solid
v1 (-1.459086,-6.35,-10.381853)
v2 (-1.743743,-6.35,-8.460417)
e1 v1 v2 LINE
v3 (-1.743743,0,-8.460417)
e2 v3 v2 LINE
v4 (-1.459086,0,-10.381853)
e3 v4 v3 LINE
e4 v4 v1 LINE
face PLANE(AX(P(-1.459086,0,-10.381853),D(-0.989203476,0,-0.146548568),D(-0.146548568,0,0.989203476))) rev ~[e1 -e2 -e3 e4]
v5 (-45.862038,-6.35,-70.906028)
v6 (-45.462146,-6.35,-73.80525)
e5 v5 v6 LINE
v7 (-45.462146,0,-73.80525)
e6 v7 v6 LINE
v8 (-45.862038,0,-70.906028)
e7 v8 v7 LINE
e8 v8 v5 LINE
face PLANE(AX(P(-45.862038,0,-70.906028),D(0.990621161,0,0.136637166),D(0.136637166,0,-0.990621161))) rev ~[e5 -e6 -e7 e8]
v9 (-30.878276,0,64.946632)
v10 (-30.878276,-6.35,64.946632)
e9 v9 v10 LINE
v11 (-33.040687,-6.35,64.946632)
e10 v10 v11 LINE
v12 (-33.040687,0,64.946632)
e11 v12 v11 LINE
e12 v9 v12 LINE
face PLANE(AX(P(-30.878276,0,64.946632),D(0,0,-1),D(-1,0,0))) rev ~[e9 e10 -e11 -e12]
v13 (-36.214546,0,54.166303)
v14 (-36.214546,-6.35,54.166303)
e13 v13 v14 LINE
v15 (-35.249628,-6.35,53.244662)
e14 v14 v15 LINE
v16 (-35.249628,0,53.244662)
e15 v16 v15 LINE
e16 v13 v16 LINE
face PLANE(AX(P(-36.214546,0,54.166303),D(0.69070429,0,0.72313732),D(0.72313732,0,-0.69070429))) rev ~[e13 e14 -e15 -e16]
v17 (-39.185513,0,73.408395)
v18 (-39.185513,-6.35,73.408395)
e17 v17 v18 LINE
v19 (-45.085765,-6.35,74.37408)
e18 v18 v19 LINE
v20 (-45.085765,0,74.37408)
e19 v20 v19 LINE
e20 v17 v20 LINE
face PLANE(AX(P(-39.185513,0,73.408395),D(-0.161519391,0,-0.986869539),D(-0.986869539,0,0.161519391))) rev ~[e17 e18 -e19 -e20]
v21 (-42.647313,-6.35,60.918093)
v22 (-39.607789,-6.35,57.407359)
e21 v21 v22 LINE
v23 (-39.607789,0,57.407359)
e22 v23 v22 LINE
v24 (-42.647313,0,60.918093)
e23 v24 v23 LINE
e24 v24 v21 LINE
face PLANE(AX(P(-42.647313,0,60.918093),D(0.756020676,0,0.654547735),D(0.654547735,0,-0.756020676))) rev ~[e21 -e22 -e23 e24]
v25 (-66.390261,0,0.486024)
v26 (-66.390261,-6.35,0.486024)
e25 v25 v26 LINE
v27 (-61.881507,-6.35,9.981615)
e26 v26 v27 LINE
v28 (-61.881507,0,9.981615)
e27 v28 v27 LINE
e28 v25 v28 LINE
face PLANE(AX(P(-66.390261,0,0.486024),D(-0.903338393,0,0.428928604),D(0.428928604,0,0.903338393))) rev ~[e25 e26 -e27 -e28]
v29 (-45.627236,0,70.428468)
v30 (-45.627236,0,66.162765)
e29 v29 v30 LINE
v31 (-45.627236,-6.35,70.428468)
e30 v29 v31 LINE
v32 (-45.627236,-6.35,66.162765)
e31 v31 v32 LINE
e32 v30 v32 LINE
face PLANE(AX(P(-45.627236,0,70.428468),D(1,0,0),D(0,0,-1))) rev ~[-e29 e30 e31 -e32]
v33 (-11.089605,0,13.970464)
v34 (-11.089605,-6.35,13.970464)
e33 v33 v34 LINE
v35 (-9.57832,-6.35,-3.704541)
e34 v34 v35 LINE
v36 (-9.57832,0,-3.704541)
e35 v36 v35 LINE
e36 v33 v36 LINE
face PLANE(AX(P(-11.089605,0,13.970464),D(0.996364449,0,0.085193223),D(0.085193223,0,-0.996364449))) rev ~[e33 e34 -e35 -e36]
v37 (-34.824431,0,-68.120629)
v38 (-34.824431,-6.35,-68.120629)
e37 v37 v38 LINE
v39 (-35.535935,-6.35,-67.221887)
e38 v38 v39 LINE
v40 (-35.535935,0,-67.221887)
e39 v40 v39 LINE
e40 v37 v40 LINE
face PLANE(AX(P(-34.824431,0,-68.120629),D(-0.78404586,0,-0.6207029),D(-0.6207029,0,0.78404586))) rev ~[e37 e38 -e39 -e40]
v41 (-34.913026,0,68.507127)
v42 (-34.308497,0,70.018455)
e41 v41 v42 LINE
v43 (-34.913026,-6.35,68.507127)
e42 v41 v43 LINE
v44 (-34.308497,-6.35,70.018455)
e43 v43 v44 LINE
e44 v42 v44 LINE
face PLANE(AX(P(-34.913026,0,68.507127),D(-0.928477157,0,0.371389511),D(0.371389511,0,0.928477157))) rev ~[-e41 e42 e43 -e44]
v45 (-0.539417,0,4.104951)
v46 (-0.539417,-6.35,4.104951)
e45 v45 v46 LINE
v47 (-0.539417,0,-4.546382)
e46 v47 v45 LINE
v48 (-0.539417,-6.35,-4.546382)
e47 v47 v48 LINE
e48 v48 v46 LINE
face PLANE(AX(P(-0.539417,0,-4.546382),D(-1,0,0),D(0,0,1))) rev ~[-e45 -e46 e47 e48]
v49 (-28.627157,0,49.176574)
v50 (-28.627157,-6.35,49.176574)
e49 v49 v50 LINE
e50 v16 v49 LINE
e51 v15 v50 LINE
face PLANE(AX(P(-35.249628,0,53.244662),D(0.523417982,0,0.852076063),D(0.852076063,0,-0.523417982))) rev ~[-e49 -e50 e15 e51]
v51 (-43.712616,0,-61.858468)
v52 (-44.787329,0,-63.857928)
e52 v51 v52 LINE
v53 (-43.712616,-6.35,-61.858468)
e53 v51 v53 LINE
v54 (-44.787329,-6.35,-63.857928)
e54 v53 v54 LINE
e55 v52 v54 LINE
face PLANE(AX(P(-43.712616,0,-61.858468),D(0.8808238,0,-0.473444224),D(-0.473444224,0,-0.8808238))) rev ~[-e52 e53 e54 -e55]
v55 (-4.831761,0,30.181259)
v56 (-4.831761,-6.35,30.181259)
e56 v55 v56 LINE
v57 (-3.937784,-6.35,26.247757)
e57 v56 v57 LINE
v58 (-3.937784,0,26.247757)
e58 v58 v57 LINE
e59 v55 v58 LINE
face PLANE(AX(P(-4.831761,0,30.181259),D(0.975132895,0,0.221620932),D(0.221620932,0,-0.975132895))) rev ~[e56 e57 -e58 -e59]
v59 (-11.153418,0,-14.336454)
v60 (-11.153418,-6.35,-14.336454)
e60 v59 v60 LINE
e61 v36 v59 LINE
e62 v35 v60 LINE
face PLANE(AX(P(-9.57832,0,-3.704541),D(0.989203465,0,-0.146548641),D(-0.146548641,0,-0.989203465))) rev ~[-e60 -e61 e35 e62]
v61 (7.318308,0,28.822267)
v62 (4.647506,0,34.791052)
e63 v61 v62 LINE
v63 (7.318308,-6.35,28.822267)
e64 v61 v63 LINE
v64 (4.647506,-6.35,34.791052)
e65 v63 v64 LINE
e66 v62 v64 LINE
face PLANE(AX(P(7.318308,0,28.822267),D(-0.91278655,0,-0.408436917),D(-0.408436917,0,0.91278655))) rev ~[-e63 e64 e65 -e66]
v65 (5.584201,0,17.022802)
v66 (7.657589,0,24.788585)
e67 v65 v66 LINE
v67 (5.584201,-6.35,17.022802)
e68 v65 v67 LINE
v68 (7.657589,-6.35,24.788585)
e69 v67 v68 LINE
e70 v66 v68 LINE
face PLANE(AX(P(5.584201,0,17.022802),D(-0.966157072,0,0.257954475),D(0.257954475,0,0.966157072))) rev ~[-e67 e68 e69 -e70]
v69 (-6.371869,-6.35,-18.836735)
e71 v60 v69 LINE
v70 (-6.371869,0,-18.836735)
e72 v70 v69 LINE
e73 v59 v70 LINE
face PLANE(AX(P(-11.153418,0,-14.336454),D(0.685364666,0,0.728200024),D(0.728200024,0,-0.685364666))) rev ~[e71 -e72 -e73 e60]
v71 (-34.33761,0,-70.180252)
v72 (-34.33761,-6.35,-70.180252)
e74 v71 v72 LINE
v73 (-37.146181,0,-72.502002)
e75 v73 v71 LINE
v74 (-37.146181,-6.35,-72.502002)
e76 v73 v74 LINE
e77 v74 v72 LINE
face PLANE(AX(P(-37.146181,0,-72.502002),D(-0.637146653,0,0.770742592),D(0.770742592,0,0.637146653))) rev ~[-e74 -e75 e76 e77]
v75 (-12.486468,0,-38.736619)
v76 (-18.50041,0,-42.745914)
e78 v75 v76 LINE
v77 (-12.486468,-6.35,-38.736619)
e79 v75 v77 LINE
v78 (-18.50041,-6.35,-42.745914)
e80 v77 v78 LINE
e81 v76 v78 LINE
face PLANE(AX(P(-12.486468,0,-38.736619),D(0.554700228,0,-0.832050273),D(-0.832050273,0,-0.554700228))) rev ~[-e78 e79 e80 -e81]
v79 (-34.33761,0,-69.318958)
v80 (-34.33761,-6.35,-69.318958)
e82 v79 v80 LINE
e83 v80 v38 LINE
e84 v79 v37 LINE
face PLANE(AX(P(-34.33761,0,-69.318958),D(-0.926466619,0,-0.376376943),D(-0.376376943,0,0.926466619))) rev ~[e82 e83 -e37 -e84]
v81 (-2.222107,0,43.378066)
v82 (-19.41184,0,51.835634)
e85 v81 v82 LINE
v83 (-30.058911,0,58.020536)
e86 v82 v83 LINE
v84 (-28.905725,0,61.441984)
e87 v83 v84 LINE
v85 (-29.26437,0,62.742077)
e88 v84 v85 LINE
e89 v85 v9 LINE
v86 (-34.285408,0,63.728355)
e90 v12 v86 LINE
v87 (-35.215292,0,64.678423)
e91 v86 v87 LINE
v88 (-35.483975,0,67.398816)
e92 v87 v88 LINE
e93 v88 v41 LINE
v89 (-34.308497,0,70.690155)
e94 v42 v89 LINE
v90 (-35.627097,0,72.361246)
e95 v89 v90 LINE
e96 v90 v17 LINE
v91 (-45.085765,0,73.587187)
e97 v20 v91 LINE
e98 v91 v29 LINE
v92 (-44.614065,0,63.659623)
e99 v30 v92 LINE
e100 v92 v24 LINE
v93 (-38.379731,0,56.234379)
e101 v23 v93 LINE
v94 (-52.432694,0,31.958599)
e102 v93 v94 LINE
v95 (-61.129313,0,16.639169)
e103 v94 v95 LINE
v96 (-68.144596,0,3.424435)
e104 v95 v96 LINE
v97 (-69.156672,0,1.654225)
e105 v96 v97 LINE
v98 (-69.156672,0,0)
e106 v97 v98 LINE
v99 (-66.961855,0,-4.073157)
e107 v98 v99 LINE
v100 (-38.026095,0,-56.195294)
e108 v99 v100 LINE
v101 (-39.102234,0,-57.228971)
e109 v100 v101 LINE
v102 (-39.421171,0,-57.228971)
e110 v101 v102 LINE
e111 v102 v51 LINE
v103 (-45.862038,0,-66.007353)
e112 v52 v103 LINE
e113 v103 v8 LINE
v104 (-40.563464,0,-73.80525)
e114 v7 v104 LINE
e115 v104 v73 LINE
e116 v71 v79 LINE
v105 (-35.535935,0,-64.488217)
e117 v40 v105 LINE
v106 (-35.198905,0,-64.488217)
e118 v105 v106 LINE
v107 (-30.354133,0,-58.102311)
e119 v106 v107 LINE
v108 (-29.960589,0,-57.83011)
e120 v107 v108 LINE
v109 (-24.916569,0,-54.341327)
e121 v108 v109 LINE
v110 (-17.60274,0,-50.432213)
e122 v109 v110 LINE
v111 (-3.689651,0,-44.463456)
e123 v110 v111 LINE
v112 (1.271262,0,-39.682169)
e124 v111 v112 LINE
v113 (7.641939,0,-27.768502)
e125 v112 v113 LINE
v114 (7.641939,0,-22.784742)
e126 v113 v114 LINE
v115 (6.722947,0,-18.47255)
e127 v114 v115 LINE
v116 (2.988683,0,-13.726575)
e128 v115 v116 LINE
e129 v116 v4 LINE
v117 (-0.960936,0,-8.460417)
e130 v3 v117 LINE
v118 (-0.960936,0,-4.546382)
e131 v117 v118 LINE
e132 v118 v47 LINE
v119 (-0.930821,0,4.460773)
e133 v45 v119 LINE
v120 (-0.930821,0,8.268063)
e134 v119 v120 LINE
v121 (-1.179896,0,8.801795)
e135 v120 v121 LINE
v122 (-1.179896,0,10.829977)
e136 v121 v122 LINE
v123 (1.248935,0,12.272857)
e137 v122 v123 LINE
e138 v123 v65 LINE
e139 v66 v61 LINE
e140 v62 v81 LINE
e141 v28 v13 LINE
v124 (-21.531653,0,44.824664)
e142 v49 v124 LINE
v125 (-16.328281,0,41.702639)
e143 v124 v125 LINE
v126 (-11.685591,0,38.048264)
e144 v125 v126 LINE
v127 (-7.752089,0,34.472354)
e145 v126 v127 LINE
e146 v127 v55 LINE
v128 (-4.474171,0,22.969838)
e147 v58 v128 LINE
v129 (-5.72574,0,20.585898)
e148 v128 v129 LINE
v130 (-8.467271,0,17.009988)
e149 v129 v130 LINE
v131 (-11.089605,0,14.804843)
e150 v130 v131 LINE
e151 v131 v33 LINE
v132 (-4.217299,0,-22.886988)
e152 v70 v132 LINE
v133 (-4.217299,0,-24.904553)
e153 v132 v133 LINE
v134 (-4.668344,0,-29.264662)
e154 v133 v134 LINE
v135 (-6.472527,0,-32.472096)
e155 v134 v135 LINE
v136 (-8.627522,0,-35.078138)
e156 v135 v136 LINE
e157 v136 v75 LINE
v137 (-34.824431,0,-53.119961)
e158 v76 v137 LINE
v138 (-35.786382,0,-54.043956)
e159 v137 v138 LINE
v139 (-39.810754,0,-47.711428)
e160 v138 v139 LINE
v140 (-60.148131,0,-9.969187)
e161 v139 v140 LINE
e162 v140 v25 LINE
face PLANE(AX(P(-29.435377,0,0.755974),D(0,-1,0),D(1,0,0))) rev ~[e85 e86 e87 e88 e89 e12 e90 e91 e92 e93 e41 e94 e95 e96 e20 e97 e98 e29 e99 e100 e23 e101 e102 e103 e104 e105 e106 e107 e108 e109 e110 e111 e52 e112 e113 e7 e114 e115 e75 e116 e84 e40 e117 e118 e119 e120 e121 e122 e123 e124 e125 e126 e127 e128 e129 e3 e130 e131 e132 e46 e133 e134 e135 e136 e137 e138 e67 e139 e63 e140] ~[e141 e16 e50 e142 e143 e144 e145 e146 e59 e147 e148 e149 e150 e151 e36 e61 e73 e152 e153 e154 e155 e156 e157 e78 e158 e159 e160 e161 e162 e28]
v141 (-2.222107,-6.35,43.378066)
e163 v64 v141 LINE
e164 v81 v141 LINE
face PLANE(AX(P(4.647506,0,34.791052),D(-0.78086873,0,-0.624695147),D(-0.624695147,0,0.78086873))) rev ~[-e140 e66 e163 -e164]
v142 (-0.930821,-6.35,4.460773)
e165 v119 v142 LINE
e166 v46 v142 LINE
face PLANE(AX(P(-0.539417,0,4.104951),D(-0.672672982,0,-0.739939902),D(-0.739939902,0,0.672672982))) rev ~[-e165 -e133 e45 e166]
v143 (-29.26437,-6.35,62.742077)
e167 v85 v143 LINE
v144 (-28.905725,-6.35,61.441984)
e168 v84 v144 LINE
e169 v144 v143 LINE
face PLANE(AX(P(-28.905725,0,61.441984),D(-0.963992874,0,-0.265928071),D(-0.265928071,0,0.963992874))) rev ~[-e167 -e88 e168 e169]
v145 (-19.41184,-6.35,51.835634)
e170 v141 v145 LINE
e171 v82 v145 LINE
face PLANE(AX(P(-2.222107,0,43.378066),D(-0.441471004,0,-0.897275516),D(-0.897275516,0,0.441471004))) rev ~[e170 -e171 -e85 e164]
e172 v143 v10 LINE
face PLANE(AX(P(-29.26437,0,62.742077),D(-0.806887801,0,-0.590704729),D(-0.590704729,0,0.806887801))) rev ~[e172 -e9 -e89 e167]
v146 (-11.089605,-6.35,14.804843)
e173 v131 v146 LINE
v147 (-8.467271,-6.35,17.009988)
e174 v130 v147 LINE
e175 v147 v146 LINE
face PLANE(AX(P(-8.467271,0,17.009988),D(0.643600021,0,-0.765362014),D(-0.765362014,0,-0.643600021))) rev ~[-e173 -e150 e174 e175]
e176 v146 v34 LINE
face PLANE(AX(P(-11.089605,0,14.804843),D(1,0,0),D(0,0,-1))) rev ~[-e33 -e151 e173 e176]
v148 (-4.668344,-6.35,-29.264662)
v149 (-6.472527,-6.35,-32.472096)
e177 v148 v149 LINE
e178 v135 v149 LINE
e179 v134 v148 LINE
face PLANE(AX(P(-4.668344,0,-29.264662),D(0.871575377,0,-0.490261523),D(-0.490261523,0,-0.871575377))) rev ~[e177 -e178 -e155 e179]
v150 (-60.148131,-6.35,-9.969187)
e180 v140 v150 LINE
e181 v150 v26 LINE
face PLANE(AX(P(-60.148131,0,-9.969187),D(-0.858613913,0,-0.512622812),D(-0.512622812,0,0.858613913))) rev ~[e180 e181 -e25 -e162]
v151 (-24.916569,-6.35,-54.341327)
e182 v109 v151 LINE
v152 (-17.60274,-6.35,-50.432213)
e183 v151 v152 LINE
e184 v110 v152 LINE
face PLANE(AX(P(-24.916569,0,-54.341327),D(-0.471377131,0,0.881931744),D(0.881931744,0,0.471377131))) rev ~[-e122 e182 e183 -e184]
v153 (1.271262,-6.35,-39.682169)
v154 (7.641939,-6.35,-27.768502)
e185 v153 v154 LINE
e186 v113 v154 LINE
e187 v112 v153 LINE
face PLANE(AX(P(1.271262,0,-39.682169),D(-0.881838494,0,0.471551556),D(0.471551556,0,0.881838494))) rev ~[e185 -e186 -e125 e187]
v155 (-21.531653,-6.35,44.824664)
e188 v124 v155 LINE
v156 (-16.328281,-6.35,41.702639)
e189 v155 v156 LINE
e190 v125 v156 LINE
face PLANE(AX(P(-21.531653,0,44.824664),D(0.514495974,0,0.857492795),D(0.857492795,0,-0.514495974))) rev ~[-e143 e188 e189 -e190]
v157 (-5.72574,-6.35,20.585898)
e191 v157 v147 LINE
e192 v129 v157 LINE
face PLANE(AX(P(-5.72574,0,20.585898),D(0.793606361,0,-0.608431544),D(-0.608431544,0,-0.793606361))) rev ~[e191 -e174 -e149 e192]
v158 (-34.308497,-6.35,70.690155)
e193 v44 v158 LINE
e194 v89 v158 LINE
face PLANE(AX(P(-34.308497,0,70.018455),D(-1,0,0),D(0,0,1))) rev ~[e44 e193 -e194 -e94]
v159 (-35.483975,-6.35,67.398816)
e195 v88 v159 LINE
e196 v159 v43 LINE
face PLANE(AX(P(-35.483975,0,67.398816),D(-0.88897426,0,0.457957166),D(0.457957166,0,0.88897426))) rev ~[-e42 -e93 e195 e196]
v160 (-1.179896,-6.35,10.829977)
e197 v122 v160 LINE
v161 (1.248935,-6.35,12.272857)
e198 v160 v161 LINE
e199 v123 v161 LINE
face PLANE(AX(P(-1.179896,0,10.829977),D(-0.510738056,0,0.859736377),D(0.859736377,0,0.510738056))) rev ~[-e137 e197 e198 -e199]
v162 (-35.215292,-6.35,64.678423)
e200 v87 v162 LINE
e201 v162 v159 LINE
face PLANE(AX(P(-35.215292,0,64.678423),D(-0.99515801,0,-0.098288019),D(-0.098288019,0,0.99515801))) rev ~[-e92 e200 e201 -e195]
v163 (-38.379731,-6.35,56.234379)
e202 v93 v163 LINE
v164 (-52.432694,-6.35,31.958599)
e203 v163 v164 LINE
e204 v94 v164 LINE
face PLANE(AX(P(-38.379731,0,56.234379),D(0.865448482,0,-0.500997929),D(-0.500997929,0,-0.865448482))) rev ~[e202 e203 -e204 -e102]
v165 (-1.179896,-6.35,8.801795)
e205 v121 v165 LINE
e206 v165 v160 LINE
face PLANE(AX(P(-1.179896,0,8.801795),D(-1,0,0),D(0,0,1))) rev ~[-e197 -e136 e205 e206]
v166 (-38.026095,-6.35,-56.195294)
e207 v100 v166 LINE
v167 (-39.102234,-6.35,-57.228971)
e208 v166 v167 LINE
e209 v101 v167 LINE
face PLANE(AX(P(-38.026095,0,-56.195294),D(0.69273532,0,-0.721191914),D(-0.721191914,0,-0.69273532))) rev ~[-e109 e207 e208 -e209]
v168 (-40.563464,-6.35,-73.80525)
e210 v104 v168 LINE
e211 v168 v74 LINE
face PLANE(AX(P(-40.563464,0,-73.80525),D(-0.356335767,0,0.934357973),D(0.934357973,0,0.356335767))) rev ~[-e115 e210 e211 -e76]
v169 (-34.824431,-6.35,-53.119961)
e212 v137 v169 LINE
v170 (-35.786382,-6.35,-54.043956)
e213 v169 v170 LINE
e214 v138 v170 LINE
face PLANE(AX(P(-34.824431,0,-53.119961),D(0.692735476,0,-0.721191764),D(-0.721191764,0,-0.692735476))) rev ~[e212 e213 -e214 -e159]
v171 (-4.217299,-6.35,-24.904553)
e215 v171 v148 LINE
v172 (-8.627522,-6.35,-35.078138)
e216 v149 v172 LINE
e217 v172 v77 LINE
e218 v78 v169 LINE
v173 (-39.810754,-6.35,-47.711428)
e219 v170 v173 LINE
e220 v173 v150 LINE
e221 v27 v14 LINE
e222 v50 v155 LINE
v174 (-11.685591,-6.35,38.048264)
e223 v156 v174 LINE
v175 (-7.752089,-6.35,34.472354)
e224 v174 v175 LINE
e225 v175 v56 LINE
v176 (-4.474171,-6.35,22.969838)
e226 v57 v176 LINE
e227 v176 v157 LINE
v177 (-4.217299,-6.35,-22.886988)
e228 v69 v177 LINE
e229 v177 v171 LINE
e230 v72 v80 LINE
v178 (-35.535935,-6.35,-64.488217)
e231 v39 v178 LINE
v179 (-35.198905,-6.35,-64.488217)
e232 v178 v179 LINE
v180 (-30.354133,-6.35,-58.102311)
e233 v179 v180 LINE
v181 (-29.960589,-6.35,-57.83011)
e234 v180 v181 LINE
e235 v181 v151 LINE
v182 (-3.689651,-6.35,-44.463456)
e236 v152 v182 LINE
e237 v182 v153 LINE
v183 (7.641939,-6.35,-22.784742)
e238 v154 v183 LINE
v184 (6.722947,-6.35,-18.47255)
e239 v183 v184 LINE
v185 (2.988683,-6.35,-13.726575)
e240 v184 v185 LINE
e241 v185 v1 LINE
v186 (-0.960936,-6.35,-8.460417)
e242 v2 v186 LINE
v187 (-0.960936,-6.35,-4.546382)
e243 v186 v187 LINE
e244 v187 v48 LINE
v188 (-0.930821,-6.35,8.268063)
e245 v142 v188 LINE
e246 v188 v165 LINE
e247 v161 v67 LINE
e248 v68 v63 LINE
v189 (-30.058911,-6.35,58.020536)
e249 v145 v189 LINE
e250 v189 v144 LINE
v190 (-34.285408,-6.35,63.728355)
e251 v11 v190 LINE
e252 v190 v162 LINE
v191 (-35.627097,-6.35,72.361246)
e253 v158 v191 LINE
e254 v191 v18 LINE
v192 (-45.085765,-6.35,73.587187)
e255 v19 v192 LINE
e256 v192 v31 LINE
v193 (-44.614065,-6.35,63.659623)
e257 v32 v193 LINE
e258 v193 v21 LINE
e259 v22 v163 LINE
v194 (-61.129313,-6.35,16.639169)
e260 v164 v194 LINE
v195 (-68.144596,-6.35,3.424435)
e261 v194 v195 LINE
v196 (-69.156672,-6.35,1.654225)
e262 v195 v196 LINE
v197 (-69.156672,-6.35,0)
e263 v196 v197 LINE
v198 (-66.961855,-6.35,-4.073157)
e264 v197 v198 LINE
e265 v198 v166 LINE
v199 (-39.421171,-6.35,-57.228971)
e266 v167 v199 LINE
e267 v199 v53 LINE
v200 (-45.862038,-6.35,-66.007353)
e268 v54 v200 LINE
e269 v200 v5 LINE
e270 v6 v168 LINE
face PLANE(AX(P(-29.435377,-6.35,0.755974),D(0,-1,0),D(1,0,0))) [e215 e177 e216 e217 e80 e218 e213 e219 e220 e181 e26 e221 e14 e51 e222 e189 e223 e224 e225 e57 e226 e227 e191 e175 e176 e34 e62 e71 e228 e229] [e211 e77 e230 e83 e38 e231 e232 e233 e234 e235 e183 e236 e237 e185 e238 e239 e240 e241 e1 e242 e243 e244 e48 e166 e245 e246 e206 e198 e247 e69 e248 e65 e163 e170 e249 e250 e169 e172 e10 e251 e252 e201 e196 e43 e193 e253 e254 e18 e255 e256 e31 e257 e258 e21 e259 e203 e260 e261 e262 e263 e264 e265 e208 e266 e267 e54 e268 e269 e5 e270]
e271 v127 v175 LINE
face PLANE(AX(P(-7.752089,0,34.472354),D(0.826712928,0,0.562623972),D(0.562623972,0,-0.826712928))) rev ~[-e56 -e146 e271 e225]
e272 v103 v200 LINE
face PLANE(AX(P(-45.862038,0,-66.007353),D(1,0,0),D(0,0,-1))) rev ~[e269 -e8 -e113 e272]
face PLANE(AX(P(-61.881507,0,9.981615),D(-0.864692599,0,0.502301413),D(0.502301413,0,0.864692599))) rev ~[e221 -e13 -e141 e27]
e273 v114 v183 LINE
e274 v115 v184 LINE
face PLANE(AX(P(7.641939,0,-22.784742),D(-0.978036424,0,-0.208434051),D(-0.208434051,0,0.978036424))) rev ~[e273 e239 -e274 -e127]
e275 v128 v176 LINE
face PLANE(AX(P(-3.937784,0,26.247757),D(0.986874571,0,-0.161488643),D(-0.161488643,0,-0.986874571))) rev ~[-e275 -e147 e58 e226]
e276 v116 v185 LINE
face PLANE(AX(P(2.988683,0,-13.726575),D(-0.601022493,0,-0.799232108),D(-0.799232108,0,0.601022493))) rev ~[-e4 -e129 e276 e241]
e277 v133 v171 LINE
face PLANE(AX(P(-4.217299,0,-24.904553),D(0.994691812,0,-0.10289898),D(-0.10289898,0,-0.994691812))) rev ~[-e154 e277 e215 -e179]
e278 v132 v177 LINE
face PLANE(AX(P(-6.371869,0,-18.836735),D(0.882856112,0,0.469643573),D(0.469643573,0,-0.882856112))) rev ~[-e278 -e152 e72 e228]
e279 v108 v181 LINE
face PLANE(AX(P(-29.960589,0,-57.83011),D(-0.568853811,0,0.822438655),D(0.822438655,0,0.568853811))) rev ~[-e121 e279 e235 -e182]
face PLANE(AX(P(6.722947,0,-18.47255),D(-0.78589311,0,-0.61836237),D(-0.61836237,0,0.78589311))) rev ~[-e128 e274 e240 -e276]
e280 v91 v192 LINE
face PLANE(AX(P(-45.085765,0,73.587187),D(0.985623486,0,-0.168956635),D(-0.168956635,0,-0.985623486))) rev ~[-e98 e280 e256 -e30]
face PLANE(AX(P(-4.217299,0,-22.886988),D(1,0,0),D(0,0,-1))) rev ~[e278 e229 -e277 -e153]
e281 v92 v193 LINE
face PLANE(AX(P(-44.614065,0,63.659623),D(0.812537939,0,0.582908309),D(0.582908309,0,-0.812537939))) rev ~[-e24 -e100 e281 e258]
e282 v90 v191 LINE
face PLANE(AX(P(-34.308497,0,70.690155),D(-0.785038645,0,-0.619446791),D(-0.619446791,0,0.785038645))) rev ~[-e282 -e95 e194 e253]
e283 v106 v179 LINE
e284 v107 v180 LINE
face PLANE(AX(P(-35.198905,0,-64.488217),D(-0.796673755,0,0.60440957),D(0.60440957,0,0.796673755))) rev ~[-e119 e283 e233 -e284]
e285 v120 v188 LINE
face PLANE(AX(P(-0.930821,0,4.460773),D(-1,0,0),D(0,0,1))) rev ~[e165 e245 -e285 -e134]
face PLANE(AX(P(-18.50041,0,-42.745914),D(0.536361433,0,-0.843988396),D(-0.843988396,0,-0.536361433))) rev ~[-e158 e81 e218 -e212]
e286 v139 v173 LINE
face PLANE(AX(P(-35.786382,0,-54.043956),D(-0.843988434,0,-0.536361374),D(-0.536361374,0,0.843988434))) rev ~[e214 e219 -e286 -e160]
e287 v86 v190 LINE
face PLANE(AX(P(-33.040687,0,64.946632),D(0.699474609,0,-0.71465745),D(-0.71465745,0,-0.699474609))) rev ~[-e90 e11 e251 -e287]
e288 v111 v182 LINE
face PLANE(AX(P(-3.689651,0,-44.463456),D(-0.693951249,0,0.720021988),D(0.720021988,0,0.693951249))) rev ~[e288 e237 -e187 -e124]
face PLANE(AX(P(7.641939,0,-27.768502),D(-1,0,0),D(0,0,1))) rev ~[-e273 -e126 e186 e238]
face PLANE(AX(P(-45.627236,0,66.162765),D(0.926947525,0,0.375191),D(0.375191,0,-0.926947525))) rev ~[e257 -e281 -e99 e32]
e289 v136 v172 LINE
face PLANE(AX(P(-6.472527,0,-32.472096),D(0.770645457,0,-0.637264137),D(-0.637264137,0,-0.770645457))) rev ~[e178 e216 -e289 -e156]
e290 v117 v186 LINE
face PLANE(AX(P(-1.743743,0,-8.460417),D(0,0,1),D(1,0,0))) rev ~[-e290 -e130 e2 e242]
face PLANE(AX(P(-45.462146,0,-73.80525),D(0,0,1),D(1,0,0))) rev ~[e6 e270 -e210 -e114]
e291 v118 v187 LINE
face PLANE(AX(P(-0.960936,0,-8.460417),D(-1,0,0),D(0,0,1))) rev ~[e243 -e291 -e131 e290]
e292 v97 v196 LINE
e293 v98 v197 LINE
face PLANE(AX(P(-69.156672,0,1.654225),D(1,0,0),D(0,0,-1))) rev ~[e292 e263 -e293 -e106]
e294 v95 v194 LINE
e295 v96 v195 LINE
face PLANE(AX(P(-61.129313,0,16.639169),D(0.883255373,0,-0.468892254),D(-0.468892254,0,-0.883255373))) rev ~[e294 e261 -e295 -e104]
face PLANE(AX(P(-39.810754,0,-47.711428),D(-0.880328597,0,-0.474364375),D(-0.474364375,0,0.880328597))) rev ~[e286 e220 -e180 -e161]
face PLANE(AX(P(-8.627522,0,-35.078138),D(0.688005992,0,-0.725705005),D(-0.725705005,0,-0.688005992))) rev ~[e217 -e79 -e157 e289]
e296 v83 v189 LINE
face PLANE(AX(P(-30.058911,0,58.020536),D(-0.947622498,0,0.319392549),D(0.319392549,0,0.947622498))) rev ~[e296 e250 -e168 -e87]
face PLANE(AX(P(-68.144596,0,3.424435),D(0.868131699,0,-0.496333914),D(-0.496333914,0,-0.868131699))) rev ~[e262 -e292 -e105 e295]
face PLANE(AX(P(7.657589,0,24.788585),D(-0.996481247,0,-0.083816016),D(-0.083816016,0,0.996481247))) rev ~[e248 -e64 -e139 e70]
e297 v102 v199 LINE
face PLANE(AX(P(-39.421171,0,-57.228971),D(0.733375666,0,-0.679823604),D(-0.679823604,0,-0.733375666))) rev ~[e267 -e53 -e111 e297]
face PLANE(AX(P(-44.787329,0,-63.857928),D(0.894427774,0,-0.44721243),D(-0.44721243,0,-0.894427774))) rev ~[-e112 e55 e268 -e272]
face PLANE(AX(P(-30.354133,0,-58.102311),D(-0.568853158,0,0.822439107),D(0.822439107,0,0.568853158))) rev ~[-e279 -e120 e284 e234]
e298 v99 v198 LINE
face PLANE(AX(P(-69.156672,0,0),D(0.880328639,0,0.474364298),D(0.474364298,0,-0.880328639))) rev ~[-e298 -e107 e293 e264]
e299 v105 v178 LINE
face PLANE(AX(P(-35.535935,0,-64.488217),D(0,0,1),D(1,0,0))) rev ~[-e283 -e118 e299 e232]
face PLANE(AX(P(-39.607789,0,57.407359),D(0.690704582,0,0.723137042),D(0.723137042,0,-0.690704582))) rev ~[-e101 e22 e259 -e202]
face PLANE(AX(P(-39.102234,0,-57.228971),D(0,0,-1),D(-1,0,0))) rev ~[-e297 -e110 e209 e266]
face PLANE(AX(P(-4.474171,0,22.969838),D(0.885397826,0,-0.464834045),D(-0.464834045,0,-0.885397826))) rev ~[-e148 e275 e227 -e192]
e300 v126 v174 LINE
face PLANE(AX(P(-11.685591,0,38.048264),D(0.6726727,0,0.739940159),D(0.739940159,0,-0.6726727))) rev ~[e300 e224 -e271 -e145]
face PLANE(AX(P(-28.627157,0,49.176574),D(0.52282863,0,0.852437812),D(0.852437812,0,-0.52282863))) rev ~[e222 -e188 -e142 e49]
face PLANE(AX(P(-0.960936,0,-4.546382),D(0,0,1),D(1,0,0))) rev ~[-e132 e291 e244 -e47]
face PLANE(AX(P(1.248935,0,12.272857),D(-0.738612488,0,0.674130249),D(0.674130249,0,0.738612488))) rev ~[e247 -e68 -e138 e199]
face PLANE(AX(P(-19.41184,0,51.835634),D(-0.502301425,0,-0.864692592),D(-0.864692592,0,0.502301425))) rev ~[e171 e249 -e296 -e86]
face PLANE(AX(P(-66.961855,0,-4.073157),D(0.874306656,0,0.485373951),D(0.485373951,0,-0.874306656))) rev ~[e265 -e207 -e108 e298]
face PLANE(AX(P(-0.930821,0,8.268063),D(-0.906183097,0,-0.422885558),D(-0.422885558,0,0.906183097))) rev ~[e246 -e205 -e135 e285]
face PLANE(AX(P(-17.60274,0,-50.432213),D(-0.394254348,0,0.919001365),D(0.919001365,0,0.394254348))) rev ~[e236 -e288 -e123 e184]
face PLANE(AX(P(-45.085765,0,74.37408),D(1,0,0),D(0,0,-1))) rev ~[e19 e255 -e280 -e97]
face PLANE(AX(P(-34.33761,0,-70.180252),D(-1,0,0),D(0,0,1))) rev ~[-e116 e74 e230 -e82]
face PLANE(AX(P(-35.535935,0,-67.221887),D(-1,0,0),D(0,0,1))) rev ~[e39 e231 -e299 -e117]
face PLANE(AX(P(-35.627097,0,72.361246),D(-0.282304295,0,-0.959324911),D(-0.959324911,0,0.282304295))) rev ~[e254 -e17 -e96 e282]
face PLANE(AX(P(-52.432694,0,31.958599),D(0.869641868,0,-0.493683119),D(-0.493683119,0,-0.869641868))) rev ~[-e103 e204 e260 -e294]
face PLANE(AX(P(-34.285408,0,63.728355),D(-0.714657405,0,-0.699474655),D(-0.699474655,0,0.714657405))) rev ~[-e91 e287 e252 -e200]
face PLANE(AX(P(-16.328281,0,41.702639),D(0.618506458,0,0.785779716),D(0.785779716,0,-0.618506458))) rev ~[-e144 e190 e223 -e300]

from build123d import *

# Parameters (mm, degrees)
F1_DEPTH = 6.35


with BuildPart() as f1:
    # F0 (on Front) → F1 (new body)
    with BuildSketch(Plane.XZ):
        Polygon((-34.308497, 70.690155), (-35.627097, 72.361246), (-39.185513, 73.408395), (-45.085765, 74.37408), (-45.085765, 73.587187), (-45.627236, 70.428468), (-45.627236, 66.162765), (-44.614065, 63.659623), (-42.647313, 60.918093), (-39.607789, 57.407359), (-38.379731, 56.234379), (-52.432694, 31.958599), (-61.129313, 16.639169), (-68.144596, 3.424435), (-69.156672, 1.654225), (-69.156672, 0), (-66.961855, -4.073157), (-38.026095, -56.195294), (-39.102234, -57.228971), (-39.421171, -57.228971), (-43.712616, -61.858468), (-44.787329, -63.857928), (-45.862038, -66.007353), (-45.862038, -70.906028), (-45.462146, -73.80525), (-40.563464, -73.80525), (-37.146181, -72.502002), (-34.33761, -70.180252), (-34.33761, -69.318958), (-34.824431, -68.120629), (-35.535935, -67.221887), (-35.535935, -64.488217), (-35.198905, -64.488217), (-30.354133, -58.102311), (-29.960589, -57.83011), (-24.916569, -54.341327), (-17.60274, -50.432213), (-3.689651, -44.463456), (1.271262, -39.682169), (7.641939, -27.768502), (7.641939, -22.784742), (6.722947, -18.47255), (2.988683, -13.726575), (-1.459086, -10.381853), (-1.743743, -8.460417), (-0.960936, -8.460417), (-0.960936, -4.546382), (-0.539417, -4.546382), (-0.539417, -3.977067), (-0.539417, 4.104951), (-0.930821, 4.460773), (-0.930821, 8.268063), (-1.179896, 8.801795), (-1.179896, 10.829977), (1.248935, 12.272857), (5.584201, 17.022802), (7.657589, 24.788585), (7.318308, 28.822267), (4.647506, 34.791052), (-2.222107, 43.378066), (-19.41184, 51.835634), (-30.058911, 58.020536), (-28.905725, 61.441984), (-29.26437, 62.742077), (-30.878276, 64.946632), (-33.040687, 64.946632), (-34.285408, 63.728355), (-35.215292, 64.678423), (-35.483975, 67.398816), (-34.913026, 68.507127), (-34.308497, 70.018455), align=None)
        Polygon((-18.50041, -42.745914), (-34.824431, -53.119961), (-35.786382, -54.043956), (-39.810754, -47.711428), (-60.148131, -9.969187), (-66.390261, 0.486024), (-61.881507, 9.981615), (-36.214546, 54.166303), (-35.249628, 53.244662), (-28.627157, 49.176574), (-21.531653, 44.824664), (-16.328281, 41.702639), (-11.685591, 38.048264), (-7.752089, 34.472354), (-4.831761, 30.181259), (-3.937784, 26.247757), (-4.474171, 22.969838), (-5.72574, 20.585898), (-8.467271, 17.009988), (-11.089605, 14.804843), (-11.089605, 13.970464), (-9.57832, -3.704541), (-11.153418, -14.336454), (-6.371869, -18.836735), (-4.217299, -22.886988), (-4.217299, -24.904553), (-4.668344, -29.264662), (-6.472527, -32.472096), (-8.627522, -35.078138), (-12.486468, -38.736619), align=None, mode=Mode.SUBTRACT)
    extrude(amount=F1_DEPTH)


solid = f1.part
